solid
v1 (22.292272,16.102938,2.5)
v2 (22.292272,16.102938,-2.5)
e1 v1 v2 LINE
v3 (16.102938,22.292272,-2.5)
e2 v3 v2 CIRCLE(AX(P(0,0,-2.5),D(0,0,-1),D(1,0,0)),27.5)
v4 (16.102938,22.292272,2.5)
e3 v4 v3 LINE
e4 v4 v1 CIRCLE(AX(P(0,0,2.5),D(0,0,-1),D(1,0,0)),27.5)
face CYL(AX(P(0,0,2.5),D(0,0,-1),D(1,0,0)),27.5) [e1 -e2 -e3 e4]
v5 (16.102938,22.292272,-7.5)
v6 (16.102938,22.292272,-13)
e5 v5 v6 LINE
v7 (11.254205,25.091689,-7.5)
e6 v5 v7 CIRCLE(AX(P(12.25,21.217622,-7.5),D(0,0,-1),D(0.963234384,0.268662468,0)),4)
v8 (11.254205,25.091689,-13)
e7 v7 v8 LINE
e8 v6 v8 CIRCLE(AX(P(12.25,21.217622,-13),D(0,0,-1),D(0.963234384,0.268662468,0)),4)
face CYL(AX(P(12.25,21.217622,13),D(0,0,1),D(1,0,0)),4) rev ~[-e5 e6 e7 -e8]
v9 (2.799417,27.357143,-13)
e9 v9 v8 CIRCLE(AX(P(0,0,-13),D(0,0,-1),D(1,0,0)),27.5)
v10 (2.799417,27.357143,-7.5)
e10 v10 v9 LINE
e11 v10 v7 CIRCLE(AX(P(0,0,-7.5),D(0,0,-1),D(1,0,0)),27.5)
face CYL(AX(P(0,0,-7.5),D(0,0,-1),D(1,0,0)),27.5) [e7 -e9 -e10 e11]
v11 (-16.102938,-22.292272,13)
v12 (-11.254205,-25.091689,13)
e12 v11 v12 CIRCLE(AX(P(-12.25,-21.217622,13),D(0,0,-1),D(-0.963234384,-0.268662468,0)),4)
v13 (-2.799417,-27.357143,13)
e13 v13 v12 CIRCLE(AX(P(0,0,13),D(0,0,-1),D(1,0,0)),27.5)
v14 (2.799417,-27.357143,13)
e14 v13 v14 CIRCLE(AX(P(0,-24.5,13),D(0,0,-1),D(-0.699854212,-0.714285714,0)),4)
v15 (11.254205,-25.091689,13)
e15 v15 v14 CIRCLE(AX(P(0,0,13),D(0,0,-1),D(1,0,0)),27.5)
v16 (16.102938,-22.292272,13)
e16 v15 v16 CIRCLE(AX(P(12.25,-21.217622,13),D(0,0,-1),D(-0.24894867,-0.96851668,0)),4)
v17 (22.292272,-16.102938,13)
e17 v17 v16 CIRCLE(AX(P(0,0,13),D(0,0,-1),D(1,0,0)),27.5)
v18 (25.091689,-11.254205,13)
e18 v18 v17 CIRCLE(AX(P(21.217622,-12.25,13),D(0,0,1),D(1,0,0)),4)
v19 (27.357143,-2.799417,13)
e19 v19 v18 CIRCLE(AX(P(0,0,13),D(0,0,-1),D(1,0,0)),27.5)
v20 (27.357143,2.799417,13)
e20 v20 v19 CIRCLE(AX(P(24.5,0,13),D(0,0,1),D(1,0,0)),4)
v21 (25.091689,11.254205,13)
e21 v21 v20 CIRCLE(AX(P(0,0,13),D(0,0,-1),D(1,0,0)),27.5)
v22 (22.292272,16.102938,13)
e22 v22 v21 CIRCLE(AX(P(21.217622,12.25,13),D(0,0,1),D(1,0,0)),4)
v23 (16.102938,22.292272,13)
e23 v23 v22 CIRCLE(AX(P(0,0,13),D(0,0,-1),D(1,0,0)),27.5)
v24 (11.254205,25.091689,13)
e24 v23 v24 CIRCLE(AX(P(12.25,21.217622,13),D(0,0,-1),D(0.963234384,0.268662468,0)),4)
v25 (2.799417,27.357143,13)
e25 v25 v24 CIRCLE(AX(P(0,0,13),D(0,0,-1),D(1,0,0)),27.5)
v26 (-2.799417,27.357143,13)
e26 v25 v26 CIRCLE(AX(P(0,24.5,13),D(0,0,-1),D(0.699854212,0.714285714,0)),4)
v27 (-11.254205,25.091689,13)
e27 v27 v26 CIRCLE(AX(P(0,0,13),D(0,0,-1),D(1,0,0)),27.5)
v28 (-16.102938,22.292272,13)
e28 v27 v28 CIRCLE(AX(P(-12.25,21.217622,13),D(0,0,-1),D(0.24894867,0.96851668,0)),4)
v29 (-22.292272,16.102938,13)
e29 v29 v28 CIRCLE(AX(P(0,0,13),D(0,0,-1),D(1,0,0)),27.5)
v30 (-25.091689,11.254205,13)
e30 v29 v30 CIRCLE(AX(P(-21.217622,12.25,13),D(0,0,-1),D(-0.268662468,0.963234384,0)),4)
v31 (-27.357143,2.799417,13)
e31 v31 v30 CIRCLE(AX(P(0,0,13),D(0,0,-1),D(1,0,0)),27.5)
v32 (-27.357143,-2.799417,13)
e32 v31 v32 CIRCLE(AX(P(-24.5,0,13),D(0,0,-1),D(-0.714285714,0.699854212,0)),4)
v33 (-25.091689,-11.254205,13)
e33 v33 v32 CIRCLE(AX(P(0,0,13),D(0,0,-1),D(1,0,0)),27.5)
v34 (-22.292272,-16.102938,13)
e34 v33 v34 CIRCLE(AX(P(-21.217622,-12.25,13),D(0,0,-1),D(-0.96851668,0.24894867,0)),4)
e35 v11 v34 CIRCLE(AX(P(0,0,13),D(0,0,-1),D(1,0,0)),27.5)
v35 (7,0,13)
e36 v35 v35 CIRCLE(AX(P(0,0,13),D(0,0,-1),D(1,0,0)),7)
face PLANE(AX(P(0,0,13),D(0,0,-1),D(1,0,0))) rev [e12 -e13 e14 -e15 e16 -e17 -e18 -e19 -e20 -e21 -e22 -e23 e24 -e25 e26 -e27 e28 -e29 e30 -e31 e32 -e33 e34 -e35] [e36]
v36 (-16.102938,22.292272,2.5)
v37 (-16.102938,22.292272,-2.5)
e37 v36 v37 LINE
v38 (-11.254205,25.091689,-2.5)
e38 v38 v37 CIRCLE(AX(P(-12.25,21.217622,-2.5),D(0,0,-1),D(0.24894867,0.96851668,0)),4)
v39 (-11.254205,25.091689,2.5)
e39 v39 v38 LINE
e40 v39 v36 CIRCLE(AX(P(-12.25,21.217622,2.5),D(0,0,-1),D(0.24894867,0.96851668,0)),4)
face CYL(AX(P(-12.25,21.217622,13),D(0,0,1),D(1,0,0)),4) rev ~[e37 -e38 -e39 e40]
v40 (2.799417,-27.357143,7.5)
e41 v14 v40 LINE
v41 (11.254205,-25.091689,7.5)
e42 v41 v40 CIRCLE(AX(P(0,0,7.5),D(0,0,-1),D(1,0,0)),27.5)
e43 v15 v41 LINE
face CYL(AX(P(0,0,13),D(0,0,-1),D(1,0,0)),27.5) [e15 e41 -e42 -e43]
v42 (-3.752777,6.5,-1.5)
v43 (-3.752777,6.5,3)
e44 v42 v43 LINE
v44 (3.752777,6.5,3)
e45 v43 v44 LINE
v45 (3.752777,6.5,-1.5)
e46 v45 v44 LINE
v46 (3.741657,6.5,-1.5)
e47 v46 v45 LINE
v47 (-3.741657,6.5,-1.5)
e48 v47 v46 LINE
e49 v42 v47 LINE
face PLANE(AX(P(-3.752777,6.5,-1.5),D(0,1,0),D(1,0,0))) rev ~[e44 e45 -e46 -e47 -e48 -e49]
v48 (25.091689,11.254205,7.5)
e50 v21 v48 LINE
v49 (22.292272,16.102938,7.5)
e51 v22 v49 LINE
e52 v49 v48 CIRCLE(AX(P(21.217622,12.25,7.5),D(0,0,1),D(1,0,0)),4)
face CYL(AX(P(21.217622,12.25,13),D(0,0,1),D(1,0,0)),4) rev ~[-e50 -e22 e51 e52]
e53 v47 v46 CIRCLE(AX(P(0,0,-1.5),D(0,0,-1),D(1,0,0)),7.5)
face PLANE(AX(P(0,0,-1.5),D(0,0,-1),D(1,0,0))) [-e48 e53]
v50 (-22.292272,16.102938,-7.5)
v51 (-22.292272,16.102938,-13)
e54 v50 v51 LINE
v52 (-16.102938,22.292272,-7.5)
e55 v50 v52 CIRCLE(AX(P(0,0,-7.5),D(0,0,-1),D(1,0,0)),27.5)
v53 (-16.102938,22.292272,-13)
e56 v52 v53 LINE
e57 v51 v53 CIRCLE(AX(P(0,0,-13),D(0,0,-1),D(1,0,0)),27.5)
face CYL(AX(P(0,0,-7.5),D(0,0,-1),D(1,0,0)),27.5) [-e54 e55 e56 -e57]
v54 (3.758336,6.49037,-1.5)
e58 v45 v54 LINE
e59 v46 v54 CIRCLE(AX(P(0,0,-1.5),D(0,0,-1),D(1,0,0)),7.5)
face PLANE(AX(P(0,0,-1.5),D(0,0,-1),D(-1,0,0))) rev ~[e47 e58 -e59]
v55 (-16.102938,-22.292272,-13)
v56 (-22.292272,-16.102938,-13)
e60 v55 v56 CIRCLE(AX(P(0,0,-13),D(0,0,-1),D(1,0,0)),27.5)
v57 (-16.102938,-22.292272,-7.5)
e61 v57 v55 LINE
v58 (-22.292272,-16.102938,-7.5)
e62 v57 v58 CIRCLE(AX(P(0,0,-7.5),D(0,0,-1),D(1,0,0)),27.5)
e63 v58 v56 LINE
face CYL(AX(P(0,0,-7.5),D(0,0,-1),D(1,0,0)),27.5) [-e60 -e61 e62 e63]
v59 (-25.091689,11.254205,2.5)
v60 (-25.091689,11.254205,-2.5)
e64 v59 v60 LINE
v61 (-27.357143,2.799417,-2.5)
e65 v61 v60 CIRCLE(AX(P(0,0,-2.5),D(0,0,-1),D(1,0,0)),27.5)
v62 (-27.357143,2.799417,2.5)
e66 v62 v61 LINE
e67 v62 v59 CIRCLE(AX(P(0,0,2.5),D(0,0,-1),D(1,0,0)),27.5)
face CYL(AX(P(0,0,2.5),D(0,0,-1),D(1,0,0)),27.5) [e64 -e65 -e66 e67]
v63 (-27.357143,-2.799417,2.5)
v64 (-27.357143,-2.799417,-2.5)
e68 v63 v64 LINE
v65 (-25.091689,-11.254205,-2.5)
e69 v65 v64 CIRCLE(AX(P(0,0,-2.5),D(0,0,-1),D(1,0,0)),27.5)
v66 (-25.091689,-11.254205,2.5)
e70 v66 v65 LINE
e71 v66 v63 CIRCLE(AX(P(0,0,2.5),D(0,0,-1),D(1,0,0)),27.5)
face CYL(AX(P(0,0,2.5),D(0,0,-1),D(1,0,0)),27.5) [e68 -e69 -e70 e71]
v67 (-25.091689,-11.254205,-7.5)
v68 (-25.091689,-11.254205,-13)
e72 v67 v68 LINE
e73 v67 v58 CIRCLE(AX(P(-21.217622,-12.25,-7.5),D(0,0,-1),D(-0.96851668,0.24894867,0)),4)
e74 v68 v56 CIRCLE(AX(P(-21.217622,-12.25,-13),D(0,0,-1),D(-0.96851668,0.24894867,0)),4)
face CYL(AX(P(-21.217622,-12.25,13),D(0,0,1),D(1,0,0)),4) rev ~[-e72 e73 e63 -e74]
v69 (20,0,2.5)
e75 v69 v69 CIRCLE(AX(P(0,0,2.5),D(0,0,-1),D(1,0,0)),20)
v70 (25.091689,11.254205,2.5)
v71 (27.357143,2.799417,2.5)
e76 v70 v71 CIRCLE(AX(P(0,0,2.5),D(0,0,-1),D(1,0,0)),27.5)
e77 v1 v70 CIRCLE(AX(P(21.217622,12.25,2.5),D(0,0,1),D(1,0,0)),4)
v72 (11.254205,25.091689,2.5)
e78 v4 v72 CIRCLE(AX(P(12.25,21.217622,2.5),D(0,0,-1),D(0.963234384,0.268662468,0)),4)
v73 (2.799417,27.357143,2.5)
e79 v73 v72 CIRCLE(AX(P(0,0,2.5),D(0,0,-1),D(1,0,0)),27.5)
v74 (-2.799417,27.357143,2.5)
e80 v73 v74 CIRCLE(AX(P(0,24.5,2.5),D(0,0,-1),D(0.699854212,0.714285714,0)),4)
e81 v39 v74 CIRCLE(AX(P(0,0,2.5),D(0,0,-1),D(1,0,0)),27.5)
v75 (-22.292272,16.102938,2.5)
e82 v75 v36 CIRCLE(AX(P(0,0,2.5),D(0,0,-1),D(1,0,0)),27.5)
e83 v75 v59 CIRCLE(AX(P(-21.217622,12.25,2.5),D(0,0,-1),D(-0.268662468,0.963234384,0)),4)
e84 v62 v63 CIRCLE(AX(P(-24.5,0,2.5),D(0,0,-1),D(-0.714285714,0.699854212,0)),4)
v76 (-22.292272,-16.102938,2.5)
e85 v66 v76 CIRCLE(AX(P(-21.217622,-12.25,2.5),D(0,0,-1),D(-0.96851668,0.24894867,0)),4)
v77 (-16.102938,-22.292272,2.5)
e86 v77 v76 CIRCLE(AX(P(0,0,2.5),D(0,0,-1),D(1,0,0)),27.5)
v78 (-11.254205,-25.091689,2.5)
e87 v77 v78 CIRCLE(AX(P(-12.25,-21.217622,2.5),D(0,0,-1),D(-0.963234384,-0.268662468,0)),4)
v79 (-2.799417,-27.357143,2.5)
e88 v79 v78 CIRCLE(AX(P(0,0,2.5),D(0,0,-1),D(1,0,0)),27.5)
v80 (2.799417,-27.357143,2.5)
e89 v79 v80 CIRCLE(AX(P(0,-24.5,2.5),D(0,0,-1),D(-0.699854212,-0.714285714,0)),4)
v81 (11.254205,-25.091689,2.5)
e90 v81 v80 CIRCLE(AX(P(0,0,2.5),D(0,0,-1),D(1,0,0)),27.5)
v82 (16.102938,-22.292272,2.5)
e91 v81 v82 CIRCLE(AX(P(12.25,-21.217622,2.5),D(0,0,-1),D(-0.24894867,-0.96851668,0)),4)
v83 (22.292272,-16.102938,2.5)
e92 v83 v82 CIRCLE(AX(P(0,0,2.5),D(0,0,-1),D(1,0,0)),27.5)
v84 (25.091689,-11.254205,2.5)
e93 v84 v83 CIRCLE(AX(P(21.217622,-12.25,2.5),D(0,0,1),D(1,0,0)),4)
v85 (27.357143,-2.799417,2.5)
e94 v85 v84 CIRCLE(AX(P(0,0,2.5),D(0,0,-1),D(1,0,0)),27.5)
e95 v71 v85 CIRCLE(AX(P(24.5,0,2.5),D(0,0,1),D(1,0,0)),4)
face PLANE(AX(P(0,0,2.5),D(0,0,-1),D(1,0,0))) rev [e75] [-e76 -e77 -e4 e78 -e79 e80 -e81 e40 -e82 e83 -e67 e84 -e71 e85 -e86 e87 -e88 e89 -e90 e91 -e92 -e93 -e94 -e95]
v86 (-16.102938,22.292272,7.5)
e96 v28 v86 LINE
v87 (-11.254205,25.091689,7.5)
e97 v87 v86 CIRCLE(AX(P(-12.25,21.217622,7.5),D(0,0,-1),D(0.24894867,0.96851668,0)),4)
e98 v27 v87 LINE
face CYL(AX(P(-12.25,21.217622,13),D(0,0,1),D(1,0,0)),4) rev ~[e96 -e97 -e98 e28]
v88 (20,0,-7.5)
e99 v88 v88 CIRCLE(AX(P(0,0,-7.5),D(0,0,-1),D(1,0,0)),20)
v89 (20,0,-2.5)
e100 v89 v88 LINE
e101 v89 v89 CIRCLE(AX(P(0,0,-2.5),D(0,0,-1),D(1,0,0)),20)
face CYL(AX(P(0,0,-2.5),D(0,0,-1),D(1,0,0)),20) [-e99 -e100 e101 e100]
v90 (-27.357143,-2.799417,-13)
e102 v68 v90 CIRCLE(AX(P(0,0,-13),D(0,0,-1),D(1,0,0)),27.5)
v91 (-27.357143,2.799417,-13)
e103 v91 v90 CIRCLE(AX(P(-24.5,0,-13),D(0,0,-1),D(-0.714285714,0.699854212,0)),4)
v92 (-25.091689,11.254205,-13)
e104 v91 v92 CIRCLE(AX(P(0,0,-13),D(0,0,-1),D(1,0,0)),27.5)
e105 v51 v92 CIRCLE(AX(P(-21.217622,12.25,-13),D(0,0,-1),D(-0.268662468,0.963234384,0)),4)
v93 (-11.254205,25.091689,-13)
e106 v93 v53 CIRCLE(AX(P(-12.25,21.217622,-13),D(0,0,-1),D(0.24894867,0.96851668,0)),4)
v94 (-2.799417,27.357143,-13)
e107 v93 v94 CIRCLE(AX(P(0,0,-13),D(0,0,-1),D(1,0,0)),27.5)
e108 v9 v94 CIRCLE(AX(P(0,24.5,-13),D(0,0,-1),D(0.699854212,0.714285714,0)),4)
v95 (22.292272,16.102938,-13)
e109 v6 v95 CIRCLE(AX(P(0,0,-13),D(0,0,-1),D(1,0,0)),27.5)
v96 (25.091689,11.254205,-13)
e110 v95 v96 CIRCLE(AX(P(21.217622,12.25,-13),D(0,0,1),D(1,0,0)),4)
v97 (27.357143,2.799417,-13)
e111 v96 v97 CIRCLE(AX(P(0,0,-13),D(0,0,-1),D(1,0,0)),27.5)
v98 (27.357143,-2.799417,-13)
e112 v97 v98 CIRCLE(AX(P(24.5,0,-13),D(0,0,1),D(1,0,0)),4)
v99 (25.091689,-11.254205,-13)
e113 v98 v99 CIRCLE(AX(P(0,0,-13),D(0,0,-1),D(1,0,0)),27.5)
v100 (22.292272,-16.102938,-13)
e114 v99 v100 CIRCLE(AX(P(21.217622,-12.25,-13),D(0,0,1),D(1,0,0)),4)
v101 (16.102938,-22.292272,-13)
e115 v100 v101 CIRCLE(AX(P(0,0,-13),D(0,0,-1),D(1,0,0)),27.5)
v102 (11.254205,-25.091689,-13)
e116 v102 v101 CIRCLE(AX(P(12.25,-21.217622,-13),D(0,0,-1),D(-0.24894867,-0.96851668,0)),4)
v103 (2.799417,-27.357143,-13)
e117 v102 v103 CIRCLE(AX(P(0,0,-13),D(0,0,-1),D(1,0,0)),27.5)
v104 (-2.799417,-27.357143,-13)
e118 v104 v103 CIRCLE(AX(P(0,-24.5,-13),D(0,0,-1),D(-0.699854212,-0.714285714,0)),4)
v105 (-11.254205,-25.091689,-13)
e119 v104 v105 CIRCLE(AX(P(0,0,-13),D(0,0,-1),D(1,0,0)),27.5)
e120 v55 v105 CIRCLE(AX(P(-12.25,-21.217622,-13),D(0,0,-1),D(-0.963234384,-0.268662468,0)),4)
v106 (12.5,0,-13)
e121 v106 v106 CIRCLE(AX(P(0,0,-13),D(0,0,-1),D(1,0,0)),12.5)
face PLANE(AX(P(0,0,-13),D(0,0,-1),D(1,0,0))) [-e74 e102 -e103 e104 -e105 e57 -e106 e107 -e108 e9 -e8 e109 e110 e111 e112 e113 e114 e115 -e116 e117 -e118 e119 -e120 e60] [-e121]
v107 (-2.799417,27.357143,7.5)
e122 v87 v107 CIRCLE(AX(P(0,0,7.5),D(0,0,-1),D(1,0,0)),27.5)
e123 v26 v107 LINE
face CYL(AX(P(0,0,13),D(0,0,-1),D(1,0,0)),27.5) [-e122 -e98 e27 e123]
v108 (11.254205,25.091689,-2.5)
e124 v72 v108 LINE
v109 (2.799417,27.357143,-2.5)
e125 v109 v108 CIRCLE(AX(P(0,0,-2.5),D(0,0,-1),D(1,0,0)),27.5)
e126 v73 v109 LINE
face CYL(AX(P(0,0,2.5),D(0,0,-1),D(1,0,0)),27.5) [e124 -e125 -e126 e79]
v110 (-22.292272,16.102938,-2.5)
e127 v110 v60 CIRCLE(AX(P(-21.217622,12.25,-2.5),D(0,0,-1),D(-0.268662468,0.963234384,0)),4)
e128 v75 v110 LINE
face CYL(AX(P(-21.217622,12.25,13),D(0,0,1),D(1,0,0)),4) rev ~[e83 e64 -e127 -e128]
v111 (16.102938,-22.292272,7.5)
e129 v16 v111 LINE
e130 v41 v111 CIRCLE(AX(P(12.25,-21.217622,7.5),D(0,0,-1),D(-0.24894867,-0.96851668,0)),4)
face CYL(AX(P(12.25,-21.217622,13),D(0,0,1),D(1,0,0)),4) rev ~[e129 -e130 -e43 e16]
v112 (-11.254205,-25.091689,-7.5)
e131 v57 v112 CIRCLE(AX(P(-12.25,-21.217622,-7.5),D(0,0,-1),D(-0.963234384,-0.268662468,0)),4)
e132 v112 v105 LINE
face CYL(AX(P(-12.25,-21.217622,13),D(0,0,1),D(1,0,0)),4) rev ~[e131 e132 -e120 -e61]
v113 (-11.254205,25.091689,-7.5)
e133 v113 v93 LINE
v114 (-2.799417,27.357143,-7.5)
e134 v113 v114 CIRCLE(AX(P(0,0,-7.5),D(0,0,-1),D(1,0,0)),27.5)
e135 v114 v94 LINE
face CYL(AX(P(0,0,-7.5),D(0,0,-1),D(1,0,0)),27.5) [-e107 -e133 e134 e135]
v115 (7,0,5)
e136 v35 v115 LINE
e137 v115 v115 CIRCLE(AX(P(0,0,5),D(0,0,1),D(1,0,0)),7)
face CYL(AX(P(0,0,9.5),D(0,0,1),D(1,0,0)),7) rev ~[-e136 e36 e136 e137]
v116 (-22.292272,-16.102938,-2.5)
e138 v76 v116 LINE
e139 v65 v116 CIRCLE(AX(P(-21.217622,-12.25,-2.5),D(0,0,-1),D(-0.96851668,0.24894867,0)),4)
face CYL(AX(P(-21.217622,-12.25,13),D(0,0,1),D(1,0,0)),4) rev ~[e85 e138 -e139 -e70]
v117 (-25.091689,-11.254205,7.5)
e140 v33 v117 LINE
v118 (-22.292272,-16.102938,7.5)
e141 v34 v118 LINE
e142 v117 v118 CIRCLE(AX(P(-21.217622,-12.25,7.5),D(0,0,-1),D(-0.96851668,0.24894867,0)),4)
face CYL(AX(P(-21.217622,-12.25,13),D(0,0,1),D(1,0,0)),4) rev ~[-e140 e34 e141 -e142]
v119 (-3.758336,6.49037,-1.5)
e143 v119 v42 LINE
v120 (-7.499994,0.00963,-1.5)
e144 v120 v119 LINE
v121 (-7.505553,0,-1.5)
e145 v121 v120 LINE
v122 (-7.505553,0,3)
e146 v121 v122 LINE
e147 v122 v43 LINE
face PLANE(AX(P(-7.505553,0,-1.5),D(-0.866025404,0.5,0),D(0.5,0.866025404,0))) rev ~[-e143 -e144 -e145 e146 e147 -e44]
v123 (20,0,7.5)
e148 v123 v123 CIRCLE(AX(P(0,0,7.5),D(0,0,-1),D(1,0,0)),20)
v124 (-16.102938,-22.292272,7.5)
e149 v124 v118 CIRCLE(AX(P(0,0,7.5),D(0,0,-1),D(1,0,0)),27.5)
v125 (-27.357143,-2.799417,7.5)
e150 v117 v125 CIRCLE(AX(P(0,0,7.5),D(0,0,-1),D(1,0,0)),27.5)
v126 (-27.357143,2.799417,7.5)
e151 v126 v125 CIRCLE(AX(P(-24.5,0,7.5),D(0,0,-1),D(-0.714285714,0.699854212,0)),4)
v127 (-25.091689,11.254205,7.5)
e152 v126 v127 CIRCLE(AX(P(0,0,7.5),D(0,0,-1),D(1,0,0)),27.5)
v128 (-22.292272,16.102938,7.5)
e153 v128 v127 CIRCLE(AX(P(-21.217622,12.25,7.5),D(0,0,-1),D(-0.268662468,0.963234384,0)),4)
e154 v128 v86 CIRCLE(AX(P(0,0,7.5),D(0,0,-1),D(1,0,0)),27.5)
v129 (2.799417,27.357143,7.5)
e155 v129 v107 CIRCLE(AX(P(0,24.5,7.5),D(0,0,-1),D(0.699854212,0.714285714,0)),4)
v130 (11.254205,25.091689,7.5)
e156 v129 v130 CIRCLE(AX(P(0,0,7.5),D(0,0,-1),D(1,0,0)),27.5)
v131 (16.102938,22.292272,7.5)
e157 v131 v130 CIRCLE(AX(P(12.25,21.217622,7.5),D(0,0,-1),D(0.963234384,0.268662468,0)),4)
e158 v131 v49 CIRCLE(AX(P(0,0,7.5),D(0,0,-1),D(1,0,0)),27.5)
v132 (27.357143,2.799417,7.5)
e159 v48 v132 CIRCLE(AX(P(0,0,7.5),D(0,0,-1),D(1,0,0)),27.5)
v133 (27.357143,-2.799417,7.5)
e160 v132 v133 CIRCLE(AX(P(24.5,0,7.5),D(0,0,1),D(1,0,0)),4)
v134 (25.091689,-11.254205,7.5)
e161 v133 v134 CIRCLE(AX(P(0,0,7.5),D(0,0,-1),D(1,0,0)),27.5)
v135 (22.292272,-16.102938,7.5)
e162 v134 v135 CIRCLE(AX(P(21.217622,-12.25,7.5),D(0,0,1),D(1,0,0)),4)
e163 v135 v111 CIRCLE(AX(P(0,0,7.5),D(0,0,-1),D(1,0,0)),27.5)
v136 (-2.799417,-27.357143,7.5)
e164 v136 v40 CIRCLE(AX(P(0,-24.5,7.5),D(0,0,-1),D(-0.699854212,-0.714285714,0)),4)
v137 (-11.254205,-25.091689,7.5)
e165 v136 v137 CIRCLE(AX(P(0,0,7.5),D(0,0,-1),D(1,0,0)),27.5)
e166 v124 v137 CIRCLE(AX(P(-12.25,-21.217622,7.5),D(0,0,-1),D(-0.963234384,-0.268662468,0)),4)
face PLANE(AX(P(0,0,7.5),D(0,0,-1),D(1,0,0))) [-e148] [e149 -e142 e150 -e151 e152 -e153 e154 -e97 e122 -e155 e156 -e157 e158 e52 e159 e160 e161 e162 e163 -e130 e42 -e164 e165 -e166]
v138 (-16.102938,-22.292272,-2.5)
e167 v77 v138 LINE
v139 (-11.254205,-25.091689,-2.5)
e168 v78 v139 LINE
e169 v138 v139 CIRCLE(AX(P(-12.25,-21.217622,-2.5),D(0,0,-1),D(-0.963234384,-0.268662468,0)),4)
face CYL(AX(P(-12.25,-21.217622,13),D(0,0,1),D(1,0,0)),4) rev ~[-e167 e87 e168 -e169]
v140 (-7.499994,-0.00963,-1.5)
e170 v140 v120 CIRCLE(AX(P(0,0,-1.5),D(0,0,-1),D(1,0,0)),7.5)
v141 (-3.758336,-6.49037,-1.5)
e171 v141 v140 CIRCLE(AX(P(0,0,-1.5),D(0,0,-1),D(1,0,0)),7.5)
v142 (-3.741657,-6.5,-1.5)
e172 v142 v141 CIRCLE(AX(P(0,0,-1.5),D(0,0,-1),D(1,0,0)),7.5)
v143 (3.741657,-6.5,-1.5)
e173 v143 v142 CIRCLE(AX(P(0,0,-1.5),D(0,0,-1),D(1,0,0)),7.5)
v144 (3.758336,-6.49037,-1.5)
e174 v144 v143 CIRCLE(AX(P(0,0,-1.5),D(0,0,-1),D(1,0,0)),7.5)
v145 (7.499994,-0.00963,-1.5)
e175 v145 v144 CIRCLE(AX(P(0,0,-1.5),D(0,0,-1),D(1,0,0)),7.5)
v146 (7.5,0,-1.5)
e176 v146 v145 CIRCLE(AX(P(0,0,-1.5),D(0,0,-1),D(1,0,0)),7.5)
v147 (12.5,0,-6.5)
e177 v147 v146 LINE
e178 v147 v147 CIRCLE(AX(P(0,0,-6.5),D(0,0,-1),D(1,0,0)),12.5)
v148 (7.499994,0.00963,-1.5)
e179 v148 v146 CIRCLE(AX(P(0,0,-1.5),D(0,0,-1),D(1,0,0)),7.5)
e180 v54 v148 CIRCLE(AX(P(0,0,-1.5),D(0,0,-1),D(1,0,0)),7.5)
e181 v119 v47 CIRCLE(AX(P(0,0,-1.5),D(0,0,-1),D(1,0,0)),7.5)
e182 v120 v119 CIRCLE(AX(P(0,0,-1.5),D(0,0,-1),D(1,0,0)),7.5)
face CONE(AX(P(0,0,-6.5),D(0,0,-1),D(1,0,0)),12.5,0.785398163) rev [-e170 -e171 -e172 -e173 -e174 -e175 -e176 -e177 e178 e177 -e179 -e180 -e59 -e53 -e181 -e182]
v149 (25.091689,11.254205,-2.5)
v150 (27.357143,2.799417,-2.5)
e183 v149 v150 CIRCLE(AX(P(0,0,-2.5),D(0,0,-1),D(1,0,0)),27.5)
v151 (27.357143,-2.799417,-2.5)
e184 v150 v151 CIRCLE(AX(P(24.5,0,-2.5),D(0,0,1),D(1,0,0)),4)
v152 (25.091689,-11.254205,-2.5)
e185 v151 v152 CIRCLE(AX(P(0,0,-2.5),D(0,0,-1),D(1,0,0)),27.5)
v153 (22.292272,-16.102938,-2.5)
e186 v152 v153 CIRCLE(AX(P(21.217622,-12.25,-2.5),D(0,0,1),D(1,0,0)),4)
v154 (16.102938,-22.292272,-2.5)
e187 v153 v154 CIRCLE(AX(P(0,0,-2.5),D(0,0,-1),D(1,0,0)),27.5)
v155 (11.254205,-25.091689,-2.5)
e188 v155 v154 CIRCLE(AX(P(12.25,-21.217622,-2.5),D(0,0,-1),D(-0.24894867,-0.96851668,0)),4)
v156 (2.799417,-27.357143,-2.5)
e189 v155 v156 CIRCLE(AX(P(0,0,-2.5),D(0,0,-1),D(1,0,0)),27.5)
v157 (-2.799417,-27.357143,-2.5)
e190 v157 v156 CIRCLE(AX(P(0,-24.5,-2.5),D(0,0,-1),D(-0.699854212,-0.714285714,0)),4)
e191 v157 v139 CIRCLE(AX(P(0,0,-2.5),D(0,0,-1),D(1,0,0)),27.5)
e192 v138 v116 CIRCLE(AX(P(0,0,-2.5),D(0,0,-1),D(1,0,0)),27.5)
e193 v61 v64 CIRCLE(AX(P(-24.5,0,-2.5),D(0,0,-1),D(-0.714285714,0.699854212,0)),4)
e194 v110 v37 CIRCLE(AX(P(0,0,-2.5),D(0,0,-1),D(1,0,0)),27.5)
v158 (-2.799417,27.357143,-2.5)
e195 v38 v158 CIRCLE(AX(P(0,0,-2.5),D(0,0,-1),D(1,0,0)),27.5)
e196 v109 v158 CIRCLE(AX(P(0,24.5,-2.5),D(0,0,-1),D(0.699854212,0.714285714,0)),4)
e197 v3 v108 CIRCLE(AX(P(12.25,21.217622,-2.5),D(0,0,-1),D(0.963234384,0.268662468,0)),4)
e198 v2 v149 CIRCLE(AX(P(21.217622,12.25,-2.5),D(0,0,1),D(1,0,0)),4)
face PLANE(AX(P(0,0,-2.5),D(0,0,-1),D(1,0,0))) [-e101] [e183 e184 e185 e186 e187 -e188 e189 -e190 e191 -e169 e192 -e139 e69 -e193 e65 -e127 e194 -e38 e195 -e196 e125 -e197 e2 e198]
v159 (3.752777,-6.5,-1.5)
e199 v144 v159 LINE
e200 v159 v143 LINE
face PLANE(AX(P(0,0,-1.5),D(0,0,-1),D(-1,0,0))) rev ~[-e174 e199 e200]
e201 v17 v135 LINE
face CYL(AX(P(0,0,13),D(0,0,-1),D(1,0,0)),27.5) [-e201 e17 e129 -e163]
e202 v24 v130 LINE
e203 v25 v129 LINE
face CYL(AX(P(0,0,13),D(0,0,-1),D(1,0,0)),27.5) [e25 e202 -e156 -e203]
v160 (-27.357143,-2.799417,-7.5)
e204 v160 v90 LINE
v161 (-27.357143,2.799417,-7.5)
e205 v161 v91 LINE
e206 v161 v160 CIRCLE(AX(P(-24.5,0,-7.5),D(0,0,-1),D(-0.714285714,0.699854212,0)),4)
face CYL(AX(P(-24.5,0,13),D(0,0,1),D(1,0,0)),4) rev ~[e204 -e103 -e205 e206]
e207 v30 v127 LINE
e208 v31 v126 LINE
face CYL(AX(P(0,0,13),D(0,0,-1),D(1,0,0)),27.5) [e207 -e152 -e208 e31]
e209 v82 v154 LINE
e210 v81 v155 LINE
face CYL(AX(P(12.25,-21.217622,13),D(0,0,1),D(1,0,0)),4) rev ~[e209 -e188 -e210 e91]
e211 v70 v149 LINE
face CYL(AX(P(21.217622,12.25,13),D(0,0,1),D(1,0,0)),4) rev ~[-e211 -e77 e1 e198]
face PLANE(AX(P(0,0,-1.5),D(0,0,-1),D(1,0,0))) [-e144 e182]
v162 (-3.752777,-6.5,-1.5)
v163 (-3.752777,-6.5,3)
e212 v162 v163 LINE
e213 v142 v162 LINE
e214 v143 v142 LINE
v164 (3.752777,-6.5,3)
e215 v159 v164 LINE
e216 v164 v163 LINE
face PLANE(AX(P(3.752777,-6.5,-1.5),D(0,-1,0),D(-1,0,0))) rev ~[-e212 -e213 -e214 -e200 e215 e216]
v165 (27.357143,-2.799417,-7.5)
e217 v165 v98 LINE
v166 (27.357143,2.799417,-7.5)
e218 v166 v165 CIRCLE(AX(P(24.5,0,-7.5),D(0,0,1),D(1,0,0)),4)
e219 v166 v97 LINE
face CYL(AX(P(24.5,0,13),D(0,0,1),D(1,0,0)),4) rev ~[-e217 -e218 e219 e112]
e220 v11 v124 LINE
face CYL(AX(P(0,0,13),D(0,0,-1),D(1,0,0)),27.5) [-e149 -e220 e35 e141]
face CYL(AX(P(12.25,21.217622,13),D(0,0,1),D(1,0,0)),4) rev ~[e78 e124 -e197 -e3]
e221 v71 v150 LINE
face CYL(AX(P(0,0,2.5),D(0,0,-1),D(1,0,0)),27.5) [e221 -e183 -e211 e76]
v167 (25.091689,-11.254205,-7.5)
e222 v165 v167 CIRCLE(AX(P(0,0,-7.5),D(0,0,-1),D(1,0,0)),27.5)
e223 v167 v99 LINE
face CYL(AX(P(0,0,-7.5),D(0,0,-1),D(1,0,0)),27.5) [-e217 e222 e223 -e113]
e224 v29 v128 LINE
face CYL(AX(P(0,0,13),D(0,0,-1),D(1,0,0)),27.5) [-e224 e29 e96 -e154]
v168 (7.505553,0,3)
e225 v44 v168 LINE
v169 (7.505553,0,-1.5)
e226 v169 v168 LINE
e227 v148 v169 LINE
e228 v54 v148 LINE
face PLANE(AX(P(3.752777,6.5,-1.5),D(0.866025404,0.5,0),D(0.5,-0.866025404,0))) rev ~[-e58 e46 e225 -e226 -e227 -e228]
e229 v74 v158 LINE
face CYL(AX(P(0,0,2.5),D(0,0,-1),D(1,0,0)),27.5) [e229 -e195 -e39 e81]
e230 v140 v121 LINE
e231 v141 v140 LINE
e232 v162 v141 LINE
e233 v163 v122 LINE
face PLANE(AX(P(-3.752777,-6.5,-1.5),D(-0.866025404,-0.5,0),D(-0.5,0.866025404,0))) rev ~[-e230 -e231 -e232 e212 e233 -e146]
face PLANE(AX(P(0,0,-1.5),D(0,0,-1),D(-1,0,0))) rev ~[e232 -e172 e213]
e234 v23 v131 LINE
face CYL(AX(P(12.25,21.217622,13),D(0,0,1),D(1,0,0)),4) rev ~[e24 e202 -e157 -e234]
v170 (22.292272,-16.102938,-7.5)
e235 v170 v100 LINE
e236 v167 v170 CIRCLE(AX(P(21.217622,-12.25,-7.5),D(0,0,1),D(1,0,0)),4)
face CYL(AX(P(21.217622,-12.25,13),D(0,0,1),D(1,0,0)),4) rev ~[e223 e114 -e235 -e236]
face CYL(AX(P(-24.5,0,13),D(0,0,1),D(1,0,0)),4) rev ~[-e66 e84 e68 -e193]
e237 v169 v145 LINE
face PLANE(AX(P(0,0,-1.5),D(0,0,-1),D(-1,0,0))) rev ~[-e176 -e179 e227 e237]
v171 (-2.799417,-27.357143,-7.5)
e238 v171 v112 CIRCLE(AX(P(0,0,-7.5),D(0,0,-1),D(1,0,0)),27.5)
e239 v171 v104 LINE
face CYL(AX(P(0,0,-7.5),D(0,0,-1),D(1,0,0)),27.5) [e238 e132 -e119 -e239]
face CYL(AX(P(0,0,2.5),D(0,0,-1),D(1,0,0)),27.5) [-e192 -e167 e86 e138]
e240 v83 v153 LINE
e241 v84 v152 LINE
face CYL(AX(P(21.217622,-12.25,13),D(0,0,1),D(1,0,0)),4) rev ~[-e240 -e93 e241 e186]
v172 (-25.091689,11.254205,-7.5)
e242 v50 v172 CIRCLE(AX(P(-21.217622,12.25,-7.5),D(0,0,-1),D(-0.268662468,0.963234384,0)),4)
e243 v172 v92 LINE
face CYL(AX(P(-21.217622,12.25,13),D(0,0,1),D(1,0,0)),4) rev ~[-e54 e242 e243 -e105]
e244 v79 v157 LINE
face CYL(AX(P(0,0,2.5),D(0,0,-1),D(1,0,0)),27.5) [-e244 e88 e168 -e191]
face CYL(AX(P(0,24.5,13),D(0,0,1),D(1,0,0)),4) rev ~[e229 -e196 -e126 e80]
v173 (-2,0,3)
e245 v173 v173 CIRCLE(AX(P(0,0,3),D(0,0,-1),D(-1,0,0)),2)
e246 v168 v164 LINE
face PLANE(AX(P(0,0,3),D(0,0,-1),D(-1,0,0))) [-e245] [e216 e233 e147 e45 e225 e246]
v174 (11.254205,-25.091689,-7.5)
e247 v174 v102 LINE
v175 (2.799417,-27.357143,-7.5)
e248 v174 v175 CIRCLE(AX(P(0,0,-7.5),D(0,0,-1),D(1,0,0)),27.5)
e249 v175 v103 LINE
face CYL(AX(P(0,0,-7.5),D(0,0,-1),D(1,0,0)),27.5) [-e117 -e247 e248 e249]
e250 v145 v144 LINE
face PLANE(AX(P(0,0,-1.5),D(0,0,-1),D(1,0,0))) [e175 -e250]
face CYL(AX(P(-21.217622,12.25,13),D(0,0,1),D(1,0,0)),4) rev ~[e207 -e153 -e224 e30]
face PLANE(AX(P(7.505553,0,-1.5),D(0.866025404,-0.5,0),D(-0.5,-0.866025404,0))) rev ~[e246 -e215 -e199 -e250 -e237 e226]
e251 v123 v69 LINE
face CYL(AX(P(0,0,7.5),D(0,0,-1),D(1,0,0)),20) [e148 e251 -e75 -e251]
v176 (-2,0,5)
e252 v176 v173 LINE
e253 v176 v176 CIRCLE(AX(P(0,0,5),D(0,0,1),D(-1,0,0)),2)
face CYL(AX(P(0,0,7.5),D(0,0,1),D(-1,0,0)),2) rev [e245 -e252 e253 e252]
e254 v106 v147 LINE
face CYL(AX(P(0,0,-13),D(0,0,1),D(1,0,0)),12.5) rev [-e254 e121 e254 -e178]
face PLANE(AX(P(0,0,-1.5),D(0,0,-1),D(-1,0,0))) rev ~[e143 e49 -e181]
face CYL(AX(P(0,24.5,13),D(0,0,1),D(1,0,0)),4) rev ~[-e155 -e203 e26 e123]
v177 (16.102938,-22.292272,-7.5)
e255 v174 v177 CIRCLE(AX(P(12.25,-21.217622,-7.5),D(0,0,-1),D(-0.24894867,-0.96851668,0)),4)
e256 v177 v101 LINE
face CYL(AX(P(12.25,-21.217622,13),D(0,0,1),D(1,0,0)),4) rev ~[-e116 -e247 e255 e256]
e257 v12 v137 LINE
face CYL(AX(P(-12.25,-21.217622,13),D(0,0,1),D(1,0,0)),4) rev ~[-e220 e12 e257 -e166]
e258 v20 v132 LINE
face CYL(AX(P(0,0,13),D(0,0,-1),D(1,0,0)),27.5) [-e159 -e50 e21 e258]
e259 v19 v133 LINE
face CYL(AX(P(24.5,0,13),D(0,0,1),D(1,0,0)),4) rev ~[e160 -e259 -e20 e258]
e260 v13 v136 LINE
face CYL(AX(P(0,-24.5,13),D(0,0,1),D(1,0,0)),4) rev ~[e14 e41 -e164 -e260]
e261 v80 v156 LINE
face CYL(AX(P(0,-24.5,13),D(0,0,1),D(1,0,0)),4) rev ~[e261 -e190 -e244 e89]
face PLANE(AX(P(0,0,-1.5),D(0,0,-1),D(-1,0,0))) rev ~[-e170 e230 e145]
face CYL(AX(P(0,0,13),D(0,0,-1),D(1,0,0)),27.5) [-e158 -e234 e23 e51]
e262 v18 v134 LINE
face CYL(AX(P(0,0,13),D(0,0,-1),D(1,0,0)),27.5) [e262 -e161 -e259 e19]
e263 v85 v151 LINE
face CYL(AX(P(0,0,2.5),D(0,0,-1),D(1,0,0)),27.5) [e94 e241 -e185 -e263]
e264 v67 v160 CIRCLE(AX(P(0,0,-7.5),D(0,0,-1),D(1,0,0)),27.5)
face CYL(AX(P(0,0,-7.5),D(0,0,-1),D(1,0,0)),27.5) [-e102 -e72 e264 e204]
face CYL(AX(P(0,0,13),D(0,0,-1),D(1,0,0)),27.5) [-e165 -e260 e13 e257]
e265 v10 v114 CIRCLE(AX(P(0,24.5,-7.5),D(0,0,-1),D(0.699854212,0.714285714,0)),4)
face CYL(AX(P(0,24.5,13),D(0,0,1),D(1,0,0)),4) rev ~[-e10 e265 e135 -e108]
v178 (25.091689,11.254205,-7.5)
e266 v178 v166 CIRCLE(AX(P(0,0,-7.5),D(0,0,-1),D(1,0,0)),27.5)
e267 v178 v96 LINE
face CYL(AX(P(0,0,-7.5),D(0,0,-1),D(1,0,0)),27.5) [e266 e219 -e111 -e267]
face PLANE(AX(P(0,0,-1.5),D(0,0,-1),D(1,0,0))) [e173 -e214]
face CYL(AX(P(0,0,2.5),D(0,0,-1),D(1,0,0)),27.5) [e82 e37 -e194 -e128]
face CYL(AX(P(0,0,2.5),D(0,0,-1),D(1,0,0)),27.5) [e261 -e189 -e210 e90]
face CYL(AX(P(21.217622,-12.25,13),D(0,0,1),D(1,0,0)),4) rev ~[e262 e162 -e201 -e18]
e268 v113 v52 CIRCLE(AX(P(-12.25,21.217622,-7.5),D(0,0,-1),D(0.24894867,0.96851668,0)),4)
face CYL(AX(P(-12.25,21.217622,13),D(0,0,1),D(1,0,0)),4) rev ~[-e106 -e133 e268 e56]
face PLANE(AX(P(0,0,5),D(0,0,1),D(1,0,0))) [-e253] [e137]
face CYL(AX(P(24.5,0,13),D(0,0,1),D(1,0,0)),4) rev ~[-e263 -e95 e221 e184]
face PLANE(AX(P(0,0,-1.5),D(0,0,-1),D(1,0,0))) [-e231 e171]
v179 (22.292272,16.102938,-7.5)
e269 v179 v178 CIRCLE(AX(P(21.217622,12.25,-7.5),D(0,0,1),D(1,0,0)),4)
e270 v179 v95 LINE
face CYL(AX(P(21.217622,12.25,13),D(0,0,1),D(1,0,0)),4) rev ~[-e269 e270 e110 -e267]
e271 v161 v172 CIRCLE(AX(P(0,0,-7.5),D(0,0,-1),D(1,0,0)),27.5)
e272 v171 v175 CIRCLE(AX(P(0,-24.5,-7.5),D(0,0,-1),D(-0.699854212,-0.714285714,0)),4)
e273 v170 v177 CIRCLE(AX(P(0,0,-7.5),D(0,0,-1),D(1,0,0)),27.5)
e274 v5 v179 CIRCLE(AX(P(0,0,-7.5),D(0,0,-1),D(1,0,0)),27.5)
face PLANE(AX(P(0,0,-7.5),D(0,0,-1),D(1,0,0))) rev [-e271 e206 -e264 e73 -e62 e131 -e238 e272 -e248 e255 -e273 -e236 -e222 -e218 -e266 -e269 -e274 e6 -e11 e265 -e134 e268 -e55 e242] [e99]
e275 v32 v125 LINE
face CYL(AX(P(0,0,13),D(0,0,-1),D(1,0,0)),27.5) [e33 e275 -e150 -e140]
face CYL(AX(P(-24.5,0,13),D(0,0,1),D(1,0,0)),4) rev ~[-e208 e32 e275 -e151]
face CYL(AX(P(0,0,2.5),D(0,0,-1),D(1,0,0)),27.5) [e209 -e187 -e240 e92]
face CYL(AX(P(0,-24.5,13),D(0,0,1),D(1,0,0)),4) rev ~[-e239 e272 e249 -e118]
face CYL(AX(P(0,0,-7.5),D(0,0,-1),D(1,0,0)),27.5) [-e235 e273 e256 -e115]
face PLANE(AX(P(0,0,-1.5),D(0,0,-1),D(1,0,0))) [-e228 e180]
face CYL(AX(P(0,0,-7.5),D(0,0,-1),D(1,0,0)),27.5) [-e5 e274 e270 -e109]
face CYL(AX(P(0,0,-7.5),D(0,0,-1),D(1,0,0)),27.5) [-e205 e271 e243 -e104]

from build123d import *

# Parameters (mm, degrees)
CORTAR_EXTRUIR1_DEPTH   = 9
CROQUIS5_R              = 4
CORTAR_EXTRUIR3_DEPTH   = 27
CROQUIS6_R              = 2
CORTAR_EXTRUIR4_DEPTH   = 10
CROQUIS7_R              = 2
SALIENTE_EXTRUIR1_DEPTH = 4.5
CROQUIS8_R              = 7
CROQUIS8_R_2            = 2
CORTAR_EXTRUIR5_DEPTH   = 4.5


with BuildPart() as part:
    # Croquis1 → Revolución1 (revolve)
    with BuildSketch(Plane(origin=(0, 0, 0), x_dir=(1, 0, 0), z_dir=(0, 1, 0))):
        Polygon((0, 1.5), (0, -9.5), (7, -9.5), (7, -13), (12.5, -13), (27.5, -13), (27.5, -7.5), (20, -7.5), (20, -2.5), (27.5, -2.5), (27.5, 2.5), (20, 2.5), (20, 7.5), (27.5, 7.5), (27.5, 13), (12.5, 13), (12.5, 6.5), (7.5, 1.5), align=None)
    revolve(axis=Axis((0, 0, 0), (0, 0, -1)))

    # Croquis2 → Cortar-Extruir1 (cut)
    with BuildSketch(Plane(origin=(0, 0, -1.5), x_dir=(-1, 0, 0), z_dir=(0, 0, -1))):
        Polygon((7.505553499, 0), (3.75277675, 6.5), (-3.75277675, 6.5), (-7.505553499, 0), (-3.75277675, -6.5), (3.75277675, -6.5), align=None)
    extrude(amount=-CORTAR_EXTRUIR1_DEPTH, mode=Mode.SUBTRACT)

    # Croquis5 → Cortar-Extruir3 (cut, through all)
    with BuildSketch(Plane.XY.offset(13)):
        with Locations((0, 24.5)):
            Circle(CROQUIS5_R)
        with Locations((12.25, 21.217622393)):
            Circle(CROQUIS5_R)
        with Locations((21.217622393, 12.25)):
            Circle(CROQUIS5_R)
        with Locations((24.5, 0)):
            Circle(CROQUIS5_R)
        with Locations((21.217622393, -12.25)):
            Circle(CROQUIS5_R)
        with Locations((12.25, -21.217622393)):
            Circle(CROQUIS5_R)
        with Locations((0, -24.5)):
            Circle(CROQUIS5_R)
        with Locations((-12.25, -21.217622393)):
            Circle(CROQUIS5_R)
        with Locations((-21.217622393, -12.25)):
            Circle(CROQUIS5_R)
        with Locations((-24.5, 0)):
            Circle(CROQUIS5_R)
        with Locations((-21.217622393, 12.25)):
            Circle(CROQUIS5_R)
        with Locations((-12.25, 21.217622393)):
            Circle(CROQUIS5_R)
    extrude(amount=-CORTAR_EXTRUIR3_DEPTH, mode=Mode.SUBTRACT)

    # Croquis6 → Cortar-Extruir4 (cut)
    with BuildSketch(Plane(origin=(0, 0, 7.5), x_dir=(-1, 0, 0), z_dir=(0, 0, -1))):
        Circle(CROQUIS6_R)
    extrude(amount=-CORTAR_EXTRUIR4_DEPTH, mode=Mode.SUBTRACT)

    # Croquis7 → Saliente-Extruir1 (add)
    with BuildSketch(Plane(origin=(0, 0, 7.5), x_dir=(-1, 0, 0), z_dir=(0, 0, -1))):
        Polygon((3.75277675, -6.5), (7.505553499, 0), (3.75277675, 6.5), (-3.75277675, 6.5), (-7.505553499, 0), (-3.75277675, -6.5), align=None)
        Circle(CROQUIS7_R, mode=Mode.SUBTRACT)
    extrude(amount=SALIENTE_EXTRUIR1_DEPTH)

    # Croquis8 → Cortar-Extruir5 (cut)
    with BuildSketch(Plane.XY.offset(9.5)):
        Circle(CROQUIS8_R)
        Circle(CROQUIS8_R_2, mode=Mode.SUBTRACT)
    extrude(amount=-CORTAR_EXTRUIR5_DEPTH, mode=Mode.SUBTRACT)


solid = part.part
